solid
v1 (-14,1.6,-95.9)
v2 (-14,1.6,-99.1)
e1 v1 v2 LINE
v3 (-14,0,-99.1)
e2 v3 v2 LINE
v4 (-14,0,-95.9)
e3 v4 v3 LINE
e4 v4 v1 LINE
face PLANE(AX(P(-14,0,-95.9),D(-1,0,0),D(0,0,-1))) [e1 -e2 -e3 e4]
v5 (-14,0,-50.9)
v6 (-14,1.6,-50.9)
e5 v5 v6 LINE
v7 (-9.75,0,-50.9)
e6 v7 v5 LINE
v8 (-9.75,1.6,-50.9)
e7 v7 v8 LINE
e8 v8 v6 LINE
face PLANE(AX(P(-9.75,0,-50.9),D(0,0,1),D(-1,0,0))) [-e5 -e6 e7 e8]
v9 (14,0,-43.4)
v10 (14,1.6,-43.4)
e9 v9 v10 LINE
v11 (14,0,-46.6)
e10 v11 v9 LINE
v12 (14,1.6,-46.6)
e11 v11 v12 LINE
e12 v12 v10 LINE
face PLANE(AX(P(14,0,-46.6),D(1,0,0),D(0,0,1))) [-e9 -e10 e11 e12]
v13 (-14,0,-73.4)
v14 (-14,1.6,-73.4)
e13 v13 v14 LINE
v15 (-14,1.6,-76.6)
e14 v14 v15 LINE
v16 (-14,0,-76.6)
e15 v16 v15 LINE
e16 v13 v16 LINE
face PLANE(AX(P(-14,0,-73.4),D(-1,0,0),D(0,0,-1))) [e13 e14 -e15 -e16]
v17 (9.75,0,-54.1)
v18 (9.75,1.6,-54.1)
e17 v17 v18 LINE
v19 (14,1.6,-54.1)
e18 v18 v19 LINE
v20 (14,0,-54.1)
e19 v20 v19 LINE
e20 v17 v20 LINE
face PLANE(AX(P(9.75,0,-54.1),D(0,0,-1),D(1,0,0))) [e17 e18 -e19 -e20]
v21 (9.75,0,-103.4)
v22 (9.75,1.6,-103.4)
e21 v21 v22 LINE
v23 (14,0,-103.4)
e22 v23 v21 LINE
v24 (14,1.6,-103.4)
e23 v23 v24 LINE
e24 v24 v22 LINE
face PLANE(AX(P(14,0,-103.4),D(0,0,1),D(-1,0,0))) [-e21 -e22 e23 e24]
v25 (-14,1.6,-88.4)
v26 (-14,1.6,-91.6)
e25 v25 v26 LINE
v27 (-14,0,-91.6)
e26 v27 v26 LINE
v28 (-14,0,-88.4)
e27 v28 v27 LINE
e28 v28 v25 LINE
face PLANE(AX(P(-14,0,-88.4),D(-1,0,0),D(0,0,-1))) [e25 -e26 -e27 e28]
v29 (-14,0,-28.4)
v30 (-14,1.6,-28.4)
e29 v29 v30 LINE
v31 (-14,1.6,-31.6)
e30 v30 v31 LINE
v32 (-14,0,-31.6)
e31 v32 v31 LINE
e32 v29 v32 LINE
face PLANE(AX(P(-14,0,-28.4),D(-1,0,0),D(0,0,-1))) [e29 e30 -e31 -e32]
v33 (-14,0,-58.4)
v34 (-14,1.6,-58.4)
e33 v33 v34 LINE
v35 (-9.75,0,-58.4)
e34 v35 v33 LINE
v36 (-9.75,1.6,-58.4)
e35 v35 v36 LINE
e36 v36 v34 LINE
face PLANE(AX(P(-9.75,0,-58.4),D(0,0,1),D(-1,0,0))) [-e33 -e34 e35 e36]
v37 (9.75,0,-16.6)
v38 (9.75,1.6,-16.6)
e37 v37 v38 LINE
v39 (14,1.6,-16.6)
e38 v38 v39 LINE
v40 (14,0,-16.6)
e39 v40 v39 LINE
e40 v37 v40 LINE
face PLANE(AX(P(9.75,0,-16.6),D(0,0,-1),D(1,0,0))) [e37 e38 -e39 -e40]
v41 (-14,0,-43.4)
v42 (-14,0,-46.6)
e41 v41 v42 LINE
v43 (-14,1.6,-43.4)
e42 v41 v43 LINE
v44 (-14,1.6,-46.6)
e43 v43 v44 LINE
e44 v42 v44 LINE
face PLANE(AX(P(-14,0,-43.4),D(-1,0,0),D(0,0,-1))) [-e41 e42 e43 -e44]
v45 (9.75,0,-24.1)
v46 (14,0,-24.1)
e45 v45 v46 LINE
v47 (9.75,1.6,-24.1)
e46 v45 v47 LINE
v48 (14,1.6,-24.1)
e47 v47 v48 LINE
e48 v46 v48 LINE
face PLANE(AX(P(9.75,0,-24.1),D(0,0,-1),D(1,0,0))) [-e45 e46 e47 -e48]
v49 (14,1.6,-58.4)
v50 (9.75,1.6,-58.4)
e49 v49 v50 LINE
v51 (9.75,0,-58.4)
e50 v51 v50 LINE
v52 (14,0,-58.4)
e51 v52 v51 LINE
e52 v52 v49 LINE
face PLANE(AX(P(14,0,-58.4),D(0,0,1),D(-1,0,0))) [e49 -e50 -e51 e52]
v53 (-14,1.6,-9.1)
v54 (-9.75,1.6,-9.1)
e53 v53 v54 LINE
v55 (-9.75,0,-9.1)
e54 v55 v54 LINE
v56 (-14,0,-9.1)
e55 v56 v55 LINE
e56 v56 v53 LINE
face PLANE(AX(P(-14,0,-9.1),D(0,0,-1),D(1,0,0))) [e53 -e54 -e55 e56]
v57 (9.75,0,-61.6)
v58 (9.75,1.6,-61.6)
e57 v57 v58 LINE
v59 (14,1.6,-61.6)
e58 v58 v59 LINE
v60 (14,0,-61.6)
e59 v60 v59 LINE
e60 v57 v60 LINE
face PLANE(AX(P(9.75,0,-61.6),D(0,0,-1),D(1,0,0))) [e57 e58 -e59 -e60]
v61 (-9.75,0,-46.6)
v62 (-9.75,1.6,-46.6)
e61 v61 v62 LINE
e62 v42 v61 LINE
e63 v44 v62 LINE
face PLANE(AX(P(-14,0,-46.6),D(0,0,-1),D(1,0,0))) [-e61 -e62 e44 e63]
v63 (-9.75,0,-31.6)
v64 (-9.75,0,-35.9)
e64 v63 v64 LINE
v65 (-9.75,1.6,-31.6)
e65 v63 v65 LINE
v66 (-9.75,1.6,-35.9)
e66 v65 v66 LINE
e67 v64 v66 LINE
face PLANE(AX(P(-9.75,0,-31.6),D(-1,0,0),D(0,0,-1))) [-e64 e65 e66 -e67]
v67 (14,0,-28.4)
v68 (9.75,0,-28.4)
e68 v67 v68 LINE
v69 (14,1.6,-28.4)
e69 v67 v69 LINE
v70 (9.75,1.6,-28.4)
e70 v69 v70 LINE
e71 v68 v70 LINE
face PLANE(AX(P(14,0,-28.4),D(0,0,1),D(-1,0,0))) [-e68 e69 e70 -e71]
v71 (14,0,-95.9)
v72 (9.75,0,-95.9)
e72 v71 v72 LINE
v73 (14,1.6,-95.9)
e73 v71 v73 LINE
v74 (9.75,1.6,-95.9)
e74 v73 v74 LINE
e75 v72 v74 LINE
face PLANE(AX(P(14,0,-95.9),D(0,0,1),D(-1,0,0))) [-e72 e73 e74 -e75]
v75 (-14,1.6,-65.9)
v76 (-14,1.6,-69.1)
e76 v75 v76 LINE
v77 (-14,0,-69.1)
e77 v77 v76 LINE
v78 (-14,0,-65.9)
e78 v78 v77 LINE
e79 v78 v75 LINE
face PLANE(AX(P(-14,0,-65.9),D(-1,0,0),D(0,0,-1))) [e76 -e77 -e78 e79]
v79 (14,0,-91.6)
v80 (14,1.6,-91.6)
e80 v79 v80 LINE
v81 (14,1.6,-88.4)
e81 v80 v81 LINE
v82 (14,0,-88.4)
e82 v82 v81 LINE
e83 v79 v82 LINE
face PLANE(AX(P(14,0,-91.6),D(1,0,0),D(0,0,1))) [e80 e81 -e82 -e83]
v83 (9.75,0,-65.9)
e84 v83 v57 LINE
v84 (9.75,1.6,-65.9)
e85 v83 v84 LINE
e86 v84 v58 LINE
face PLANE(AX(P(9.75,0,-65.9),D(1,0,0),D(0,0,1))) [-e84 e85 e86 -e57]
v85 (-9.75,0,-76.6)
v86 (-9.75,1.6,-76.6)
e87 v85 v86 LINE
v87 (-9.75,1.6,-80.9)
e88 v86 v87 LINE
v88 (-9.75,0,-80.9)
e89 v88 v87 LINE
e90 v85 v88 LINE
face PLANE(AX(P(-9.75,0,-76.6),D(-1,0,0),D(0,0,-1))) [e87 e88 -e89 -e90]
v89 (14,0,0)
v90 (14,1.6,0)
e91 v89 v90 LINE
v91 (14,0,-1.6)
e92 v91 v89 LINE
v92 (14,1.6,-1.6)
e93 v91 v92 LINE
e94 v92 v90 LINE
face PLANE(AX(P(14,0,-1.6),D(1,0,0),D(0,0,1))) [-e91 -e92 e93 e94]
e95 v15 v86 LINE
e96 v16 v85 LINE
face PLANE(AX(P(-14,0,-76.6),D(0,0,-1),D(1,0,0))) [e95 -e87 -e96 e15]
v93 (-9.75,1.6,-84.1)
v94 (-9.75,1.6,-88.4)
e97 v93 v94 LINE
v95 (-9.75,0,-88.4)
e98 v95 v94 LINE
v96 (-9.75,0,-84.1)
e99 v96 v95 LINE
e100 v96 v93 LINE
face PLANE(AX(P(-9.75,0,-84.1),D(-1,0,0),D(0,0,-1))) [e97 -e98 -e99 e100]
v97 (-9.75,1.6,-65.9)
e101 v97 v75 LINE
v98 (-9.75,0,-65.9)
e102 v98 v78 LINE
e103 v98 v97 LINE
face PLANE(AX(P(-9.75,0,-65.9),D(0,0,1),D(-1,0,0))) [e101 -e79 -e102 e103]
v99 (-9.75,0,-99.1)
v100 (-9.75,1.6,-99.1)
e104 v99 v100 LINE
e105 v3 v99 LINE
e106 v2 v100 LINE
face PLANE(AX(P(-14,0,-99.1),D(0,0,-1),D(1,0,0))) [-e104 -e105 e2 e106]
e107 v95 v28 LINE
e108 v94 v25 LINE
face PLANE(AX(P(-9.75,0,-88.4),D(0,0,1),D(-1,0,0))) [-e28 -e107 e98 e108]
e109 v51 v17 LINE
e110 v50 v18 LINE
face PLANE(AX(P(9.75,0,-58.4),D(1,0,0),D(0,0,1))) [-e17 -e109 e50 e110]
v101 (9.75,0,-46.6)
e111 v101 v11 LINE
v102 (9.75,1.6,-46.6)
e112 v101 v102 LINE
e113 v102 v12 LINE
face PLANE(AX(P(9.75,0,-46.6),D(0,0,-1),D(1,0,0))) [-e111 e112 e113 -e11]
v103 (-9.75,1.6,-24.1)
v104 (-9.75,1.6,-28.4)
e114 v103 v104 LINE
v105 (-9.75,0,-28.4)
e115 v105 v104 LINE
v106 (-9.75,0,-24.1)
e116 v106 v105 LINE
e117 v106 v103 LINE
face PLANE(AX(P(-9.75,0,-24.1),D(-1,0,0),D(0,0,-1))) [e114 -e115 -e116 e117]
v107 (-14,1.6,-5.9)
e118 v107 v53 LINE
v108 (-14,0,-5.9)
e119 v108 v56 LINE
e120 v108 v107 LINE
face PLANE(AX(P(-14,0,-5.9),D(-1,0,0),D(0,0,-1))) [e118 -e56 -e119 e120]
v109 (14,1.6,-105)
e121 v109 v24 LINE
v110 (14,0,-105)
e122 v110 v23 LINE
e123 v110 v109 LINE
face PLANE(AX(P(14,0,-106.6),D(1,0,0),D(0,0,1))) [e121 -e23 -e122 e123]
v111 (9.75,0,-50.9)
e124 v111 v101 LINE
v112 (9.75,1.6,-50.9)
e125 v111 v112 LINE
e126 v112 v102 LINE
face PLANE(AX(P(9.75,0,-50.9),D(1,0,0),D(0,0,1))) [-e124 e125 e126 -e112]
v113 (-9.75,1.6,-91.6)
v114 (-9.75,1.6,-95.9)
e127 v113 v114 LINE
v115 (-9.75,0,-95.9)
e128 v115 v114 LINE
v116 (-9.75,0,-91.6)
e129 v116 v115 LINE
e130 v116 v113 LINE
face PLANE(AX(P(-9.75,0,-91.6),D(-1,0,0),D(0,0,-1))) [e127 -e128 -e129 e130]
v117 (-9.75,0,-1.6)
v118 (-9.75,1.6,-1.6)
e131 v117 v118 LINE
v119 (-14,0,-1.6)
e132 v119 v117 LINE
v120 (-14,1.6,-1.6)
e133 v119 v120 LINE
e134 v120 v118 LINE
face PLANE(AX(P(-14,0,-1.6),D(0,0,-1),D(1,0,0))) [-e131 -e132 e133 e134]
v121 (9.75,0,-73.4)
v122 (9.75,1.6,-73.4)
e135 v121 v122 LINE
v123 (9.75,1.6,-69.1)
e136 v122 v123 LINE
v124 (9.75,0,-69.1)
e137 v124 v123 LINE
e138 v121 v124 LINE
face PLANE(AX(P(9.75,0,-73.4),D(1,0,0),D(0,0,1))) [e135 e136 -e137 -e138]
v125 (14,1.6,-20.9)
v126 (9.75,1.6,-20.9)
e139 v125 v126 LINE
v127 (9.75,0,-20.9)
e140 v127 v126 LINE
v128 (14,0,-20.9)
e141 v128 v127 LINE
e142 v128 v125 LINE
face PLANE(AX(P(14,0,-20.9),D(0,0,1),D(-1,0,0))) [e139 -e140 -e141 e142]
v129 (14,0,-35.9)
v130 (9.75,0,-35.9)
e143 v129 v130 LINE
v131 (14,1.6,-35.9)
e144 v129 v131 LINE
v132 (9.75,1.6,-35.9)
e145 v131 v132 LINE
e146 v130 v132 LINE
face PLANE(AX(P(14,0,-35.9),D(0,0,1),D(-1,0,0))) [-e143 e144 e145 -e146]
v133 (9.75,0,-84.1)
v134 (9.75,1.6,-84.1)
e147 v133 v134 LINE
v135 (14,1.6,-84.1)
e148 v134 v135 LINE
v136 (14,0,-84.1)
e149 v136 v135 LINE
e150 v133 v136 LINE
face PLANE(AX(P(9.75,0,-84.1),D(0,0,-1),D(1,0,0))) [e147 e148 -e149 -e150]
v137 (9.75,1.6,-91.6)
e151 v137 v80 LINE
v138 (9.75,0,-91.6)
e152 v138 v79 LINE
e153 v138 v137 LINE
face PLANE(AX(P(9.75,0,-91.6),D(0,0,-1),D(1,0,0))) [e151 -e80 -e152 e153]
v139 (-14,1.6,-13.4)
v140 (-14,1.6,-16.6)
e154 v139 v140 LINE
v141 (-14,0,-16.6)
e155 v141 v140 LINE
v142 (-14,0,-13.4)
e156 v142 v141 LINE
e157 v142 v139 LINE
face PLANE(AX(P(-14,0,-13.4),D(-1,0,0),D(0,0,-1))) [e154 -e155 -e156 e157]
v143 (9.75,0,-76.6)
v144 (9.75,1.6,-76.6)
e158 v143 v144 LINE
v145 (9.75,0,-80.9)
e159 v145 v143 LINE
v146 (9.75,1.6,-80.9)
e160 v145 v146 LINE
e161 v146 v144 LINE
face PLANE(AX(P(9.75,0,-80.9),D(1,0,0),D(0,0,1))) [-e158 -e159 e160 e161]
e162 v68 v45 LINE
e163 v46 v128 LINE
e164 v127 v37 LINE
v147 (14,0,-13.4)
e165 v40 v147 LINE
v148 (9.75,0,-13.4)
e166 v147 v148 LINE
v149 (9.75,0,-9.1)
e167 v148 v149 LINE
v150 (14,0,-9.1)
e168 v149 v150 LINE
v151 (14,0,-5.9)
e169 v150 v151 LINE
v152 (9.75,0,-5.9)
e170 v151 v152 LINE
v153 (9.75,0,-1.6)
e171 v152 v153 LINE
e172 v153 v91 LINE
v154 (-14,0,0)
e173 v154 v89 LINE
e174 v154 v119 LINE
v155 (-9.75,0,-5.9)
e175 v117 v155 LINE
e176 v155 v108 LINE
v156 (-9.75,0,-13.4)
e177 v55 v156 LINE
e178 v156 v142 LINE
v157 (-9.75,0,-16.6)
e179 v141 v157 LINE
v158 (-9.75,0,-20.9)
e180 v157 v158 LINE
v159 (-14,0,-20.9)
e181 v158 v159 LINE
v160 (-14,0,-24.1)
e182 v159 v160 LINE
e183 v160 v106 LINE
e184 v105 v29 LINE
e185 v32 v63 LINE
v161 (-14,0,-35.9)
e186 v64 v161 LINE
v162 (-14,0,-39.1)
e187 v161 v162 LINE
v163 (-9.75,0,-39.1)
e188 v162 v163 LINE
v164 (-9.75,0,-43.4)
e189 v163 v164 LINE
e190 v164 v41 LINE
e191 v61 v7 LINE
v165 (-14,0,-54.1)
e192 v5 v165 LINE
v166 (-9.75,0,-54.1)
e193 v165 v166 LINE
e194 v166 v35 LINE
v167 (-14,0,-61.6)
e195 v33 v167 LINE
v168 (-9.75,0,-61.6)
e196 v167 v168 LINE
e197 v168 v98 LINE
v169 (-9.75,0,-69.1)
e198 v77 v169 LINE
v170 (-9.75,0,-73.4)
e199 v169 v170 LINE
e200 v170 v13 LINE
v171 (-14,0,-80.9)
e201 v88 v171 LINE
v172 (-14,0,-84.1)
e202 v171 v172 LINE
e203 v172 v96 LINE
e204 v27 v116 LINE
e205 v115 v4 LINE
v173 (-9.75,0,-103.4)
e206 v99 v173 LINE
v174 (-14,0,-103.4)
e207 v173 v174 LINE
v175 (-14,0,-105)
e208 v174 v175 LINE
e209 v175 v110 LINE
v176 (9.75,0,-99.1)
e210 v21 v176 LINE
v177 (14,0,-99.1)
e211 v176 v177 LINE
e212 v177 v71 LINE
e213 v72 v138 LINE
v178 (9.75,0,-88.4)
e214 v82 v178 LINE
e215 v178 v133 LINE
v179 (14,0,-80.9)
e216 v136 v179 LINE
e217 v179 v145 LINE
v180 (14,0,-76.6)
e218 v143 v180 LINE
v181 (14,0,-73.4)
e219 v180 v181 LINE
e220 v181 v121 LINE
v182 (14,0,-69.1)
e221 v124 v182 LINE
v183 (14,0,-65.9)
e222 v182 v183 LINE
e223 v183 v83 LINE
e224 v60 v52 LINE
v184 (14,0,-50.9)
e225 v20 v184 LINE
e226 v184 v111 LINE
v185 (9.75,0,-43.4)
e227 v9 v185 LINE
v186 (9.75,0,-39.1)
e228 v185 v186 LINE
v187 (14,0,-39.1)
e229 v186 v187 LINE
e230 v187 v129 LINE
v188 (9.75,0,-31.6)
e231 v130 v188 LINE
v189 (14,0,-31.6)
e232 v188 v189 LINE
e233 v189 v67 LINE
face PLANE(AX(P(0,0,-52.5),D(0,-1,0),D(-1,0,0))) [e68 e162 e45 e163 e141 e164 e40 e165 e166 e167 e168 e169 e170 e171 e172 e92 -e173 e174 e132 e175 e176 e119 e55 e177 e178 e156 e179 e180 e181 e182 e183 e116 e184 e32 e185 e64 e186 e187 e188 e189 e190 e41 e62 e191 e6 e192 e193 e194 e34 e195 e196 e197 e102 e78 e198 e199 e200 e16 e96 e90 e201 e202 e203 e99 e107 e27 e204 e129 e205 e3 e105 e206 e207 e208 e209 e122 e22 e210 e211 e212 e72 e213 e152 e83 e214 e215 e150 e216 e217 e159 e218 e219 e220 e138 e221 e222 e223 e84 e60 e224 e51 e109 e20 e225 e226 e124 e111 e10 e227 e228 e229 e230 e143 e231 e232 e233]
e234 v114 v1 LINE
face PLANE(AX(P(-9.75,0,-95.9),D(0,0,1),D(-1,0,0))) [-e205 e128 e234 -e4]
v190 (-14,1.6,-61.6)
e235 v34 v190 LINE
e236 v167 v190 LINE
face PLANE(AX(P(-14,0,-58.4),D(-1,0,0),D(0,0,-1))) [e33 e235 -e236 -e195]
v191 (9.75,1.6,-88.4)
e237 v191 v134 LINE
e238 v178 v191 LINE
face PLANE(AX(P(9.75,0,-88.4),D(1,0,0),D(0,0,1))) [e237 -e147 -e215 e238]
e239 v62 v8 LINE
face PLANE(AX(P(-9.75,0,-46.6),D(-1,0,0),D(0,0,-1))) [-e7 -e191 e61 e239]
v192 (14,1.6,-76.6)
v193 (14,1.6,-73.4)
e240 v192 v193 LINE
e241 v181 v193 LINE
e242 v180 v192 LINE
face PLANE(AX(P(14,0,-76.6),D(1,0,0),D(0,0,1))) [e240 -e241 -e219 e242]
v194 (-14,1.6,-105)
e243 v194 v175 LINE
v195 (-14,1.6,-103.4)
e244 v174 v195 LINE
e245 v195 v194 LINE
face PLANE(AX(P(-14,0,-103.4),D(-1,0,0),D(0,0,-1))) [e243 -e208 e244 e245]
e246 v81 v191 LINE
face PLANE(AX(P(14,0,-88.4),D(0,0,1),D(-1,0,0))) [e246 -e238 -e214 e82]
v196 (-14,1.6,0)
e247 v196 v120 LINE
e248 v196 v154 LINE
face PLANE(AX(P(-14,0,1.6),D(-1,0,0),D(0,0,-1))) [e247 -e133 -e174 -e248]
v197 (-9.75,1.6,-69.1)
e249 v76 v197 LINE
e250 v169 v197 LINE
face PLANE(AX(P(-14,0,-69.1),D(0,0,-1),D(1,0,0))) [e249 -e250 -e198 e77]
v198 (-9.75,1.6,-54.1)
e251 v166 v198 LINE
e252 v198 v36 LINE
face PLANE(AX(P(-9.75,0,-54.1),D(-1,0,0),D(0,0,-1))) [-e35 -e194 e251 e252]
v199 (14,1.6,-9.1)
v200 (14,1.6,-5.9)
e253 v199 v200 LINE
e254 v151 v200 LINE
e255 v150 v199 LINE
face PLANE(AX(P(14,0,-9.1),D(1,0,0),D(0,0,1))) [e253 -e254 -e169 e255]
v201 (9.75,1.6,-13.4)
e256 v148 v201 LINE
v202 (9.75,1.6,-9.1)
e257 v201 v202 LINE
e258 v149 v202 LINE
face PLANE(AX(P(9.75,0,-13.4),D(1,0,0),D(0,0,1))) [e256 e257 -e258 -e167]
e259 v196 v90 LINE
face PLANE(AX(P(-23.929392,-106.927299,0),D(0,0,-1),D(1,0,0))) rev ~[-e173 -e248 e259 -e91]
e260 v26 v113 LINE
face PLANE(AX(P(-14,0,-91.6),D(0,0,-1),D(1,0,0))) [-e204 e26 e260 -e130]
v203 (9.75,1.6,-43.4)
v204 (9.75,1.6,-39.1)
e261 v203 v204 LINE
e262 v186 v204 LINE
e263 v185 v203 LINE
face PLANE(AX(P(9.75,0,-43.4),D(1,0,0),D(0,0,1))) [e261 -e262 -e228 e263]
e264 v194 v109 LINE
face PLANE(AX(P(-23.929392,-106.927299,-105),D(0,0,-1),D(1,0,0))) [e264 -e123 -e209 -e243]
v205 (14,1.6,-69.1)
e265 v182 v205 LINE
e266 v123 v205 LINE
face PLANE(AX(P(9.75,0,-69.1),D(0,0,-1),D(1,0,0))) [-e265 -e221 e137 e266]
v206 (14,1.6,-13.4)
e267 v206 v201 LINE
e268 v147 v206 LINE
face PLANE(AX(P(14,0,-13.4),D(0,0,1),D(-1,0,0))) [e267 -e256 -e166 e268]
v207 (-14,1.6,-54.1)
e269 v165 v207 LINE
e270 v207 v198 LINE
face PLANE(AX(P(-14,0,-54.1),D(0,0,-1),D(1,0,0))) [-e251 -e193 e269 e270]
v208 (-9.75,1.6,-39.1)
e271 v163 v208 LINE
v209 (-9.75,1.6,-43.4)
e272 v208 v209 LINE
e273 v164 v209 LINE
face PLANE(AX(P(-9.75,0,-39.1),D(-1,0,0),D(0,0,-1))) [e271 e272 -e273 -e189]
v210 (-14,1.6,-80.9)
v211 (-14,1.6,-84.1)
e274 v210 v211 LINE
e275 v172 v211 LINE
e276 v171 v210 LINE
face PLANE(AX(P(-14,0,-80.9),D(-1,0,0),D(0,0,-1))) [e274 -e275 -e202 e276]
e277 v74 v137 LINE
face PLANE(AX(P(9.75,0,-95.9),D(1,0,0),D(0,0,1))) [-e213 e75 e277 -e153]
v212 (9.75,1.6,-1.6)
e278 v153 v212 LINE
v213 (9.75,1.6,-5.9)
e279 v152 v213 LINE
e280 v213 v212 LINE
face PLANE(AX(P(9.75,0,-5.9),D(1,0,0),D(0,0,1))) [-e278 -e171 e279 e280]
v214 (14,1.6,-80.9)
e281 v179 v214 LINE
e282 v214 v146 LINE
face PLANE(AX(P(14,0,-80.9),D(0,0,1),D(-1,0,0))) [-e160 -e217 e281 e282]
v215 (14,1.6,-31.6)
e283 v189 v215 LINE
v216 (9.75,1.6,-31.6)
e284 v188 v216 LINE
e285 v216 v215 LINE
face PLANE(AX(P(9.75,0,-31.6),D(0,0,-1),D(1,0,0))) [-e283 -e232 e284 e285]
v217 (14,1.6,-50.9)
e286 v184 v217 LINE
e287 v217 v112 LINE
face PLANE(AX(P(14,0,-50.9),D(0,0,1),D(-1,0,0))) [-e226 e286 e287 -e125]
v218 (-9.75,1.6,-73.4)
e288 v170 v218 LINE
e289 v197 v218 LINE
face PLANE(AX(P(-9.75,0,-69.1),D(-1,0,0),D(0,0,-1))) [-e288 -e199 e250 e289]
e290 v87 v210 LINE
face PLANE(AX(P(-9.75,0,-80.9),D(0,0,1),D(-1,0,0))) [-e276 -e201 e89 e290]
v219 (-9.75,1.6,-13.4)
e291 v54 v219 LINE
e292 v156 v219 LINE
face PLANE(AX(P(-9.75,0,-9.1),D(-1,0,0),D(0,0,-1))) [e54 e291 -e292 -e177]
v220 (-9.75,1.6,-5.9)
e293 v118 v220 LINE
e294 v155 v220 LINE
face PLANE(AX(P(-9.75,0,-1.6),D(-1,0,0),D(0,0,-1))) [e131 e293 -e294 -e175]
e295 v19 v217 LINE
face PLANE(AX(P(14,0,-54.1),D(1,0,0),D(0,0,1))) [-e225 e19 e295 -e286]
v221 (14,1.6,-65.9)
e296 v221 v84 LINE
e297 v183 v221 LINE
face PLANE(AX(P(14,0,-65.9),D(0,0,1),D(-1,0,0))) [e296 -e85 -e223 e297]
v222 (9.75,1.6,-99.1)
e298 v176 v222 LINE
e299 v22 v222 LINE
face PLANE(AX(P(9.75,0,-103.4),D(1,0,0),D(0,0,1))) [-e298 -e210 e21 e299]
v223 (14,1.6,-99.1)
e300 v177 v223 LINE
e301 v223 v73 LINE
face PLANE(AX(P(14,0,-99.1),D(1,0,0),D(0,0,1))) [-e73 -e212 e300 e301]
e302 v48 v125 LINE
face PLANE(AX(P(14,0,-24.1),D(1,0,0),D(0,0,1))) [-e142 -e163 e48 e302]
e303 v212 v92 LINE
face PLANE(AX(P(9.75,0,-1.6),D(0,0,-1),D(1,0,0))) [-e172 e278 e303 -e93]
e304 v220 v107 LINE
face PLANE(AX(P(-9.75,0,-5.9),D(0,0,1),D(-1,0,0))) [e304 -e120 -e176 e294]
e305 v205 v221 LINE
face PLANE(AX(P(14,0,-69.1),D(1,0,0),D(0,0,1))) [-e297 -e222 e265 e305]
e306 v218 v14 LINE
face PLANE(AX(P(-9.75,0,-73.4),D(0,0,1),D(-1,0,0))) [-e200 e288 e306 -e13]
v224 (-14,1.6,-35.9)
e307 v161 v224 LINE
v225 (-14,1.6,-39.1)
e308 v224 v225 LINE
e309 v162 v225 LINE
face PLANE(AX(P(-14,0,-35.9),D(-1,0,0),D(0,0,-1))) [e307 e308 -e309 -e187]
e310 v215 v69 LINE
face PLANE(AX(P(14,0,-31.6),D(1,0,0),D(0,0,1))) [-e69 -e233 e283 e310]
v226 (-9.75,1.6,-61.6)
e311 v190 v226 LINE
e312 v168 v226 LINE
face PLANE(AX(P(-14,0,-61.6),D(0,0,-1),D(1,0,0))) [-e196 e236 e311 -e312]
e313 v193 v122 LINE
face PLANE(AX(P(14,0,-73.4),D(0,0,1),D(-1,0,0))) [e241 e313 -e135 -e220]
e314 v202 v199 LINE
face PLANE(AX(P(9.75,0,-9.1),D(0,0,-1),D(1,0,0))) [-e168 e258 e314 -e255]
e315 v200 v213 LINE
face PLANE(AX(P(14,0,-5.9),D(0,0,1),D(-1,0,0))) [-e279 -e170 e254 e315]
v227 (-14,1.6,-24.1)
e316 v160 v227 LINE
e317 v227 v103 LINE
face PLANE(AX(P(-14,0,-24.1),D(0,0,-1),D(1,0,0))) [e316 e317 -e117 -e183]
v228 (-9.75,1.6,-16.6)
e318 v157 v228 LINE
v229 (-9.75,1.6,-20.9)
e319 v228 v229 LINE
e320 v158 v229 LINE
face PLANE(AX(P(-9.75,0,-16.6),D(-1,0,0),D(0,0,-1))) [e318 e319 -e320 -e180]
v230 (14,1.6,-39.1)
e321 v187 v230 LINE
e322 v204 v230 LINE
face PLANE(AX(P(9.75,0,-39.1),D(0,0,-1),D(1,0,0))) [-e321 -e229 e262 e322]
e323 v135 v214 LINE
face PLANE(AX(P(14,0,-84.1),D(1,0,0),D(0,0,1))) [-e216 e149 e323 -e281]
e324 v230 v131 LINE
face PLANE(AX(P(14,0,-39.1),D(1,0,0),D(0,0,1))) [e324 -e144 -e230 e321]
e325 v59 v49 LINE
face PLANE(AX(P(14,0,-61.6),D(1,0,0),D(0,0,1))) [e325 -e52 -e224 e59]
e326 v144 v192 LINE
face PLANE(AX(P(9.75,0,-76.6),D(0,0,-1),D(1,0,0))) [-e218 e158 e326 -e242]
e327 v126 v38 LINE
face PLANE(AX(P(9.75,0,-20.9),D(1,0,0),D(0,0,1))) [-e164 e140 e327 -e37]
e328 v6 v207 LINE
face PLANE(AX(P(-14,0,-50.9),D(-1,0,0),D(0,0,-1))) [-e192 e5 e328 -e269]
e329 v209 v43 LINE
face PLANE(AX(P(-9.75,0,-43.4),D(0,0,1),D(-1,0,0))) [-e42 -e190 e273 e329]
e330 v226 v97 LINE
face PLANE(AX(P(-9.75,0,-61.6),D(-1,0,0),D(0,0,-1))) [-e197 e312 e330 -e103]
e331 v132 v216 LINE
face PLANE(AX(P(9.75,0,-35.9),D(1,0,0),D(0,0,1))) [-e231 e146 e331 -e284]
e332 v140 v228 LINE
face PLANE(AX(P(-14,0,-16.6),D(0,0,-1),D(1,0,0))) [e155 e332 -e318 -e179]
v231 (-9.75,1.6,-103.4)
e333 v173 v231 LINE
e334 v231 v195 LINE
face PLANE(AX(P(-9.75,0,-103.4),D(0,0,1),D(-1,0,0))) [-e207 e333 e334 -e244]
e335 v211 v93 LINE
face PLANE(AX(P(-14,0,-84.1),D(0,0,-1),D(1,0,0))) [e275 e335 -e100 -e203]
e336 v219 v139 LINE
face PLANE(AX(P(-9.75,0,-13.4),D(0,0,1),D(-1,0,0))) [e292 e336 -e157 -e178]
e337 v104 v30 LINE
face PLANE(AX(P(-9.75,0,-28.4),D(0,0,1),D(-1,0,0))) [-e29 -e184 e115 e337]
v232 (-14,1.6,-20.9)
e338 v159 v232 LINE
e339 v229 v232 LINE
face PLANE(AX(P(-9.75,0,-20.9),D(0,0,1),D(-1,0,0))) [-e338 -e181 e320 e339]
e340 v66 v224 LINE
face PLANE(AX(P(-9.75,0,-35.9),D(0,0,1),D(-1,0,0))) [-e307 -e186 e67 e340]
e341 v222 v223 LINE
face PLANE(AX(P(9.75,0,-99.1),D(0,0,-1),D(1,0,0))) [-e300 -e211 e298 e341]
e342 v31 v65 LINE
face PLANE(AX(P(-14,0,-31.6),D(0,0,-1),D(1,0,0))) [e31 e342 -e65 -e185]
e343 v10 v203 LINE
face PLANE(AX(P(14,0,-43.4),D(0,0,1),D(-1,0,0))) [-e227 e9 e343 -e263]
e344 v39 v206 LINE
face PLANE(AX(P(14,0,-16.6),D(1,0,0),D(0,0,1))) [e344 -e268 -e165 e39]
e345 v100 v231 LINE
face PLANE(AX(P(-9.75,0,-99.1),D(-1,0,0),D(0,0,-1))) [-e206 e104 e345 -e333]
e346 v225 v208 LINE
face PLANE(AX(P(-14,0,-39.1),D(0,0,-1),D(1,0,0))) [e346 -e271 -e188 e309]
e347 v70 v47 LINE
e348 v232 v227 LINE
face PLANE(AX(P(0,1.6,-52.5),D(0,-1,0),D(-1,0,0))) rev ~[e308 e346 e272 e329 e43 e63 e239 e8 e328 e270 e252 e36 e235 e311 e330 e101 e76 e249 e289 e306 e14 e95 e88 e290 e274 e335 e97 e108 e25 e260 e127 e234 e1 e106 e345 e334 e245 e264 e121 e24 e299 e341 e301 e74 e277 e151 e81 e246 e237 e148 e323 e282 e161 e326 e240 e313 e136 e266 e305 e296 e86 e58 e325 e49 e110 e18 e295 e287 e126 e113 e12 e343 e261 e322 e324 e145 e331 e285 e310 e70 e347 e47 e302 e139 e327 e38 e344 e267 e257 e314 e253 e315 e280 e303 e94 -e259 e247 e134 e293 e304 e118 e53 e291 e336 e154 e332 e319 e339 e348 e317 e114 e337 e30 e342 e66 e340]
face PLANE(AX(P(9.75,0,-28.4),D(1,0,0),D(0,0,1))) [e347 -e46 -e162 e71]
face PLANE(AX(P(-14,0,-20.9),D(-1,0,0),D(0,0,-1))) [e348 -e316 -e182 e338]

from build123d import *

# Parameters (mm, degrees)
BOSS_EXTRUDE1_DEPTH     = 1.6
CUT_EXTRUDE1_DEPTH      = 108.527298859
CUT_EXTRUDE1_DEPTH_BACK = 108.527298859
SKETCH2_OUTSIDE_W       = 52.356
SKETCH2_OUTSIDE_H       = 132.556
SKETCH2_OUTSIDE_W_2     = 49.825582729
SKETCH2_OUTSIDE_H_2     = 105


with BuildPart() as part:
    # Sketch1 → Boss-Extrude1 (new body)
    with BuildSketch(Plane(origin=(0, 0, 0), x_dir=(1, 0, 0), z_dir=(0, 1, 0))):
        Polygon((14, -1.6), (-14, -1.6), (-14, 1.6), (-9.75, 1.6), (-9.75, 5.9), (-14, 5.9), (-14, 9.1), (-9.75, 9.1), (-9.75, 13.4), (-14, 13.4), (-14, 16.6), (-9.75, 16.6), (-9.75, 20.9), (-14, 20.9), (-14, 24.1), (-9.75, 24.1), (-9.75, 28.4), (-14, 28.4), (-14, 31.6), (-9.75, 31.6), (-9.75, 35.9), (-14, 35.9), (-14, 39.1), (-9.75, 39.1), (-9.75, 43.4), (-14, 43.4), (-14, 46.6), (-9.75, 46.6), (-9.75, 50.9), (-14, 50.9), (-14, 54.1), (-9.75, 54.1), (-9.75, 58.4), (-14, 58.4), (-14, 61.6), (-9.75, 61.6), (-9.75, 65.9), (-14, 65.9), (-14, 69.1), (-9.75, 69.1), (-9.75, 73.4), (-14, 73.4), (-14, 76.6), (-9.75, 76.6), (-9.75, 80.9), (-14, 80.9), (-14, 84.1), (-9.75, 84.1), (-9.75, 88.4), (-14, 88.4), (-14, 91.6), (-9.75, 91.6), (-9.75, 95.9), (-14, 95.9), (-14, 99.1), (-9.75, 99.1), (-9.75, 103.4), (-14, 103.4), (-14, 106.6), (14, 106.6), (14, 103.4), (9.75, 103.4), (9.75, 99.1), (14, 99.1), (14, 95.9), (9.75, 95.9), (9.75, 91.6), (14, 91.6), (14, 88.4), (9.75, 88.4), (9.75, 84.1), (14, 84.1), (14, 80.9), (9.75, 80.9), (9.75, 76.6), (14, 76.6), (14, 73.4), (9.75, 73.4), (9.75, 69.1), (14, 69.1), (14, 65.9), (9.75, 65.9), (9.75, 61.6), (14, 61.6), (14, 58.4), (9.75, 58.4), (9.75, 54.1), (14, 54.1), (14, 50.9), (9.75, 50.9), (9.75, 46.6), (14, 46.6), (14, 43.4), (9.75, 43.4), (9.75, 39.1), (14, 39.1), (14, 35.9), (9.75, 35.9), (9.75, 31.6), (14, 31.6), (14, 28.4), (9.75, 28.4), (9.75, 24.1), (14, 24.1), (14, 20.9), (9.75, 20.9), (9.75, 16.6), (14, 16.6), (14, 13.4), (9.75, 13.4), (9.75, 9.1), (14, 9.1), (14, 5.9), (9.75, 5.9), (9.75, 1.6), (14, 1.6), align=None)
    extrude(amount=BOSS_EXTRUDE1_DEPTH)

    # Sketch2 outside → Cut-Extrude1 (cut, two sides: drawn at the far end of the back side and taken through both)
    with BuildSketch(Plane(origin=(0, 1.6, 0), x_dir=(1, 0, 0), z_dir=(0, 1, 0)).offset(-CUT_EXTRUDE1_DEPTH_BACK)):
        with Locations((0, 52.5)):
            Rectangle(SKETCH2_OUTSIDE_W, SKETCH2_OUTSIDE_H)
        with Locations((0.983399659, 52.5)):
            Rectangle(SKETCH2_OUTSIDE_W_2, SKETCH2_OUTSIDE_H_2, mode=Mode.SUBTRACT)
    extrude(amount=CUT_EXTRUDE1_DEPTH + CUT_EXTRUDE1_DEPTH_BACK, mode=Mode.SUBTRACT)


solid = part.part
